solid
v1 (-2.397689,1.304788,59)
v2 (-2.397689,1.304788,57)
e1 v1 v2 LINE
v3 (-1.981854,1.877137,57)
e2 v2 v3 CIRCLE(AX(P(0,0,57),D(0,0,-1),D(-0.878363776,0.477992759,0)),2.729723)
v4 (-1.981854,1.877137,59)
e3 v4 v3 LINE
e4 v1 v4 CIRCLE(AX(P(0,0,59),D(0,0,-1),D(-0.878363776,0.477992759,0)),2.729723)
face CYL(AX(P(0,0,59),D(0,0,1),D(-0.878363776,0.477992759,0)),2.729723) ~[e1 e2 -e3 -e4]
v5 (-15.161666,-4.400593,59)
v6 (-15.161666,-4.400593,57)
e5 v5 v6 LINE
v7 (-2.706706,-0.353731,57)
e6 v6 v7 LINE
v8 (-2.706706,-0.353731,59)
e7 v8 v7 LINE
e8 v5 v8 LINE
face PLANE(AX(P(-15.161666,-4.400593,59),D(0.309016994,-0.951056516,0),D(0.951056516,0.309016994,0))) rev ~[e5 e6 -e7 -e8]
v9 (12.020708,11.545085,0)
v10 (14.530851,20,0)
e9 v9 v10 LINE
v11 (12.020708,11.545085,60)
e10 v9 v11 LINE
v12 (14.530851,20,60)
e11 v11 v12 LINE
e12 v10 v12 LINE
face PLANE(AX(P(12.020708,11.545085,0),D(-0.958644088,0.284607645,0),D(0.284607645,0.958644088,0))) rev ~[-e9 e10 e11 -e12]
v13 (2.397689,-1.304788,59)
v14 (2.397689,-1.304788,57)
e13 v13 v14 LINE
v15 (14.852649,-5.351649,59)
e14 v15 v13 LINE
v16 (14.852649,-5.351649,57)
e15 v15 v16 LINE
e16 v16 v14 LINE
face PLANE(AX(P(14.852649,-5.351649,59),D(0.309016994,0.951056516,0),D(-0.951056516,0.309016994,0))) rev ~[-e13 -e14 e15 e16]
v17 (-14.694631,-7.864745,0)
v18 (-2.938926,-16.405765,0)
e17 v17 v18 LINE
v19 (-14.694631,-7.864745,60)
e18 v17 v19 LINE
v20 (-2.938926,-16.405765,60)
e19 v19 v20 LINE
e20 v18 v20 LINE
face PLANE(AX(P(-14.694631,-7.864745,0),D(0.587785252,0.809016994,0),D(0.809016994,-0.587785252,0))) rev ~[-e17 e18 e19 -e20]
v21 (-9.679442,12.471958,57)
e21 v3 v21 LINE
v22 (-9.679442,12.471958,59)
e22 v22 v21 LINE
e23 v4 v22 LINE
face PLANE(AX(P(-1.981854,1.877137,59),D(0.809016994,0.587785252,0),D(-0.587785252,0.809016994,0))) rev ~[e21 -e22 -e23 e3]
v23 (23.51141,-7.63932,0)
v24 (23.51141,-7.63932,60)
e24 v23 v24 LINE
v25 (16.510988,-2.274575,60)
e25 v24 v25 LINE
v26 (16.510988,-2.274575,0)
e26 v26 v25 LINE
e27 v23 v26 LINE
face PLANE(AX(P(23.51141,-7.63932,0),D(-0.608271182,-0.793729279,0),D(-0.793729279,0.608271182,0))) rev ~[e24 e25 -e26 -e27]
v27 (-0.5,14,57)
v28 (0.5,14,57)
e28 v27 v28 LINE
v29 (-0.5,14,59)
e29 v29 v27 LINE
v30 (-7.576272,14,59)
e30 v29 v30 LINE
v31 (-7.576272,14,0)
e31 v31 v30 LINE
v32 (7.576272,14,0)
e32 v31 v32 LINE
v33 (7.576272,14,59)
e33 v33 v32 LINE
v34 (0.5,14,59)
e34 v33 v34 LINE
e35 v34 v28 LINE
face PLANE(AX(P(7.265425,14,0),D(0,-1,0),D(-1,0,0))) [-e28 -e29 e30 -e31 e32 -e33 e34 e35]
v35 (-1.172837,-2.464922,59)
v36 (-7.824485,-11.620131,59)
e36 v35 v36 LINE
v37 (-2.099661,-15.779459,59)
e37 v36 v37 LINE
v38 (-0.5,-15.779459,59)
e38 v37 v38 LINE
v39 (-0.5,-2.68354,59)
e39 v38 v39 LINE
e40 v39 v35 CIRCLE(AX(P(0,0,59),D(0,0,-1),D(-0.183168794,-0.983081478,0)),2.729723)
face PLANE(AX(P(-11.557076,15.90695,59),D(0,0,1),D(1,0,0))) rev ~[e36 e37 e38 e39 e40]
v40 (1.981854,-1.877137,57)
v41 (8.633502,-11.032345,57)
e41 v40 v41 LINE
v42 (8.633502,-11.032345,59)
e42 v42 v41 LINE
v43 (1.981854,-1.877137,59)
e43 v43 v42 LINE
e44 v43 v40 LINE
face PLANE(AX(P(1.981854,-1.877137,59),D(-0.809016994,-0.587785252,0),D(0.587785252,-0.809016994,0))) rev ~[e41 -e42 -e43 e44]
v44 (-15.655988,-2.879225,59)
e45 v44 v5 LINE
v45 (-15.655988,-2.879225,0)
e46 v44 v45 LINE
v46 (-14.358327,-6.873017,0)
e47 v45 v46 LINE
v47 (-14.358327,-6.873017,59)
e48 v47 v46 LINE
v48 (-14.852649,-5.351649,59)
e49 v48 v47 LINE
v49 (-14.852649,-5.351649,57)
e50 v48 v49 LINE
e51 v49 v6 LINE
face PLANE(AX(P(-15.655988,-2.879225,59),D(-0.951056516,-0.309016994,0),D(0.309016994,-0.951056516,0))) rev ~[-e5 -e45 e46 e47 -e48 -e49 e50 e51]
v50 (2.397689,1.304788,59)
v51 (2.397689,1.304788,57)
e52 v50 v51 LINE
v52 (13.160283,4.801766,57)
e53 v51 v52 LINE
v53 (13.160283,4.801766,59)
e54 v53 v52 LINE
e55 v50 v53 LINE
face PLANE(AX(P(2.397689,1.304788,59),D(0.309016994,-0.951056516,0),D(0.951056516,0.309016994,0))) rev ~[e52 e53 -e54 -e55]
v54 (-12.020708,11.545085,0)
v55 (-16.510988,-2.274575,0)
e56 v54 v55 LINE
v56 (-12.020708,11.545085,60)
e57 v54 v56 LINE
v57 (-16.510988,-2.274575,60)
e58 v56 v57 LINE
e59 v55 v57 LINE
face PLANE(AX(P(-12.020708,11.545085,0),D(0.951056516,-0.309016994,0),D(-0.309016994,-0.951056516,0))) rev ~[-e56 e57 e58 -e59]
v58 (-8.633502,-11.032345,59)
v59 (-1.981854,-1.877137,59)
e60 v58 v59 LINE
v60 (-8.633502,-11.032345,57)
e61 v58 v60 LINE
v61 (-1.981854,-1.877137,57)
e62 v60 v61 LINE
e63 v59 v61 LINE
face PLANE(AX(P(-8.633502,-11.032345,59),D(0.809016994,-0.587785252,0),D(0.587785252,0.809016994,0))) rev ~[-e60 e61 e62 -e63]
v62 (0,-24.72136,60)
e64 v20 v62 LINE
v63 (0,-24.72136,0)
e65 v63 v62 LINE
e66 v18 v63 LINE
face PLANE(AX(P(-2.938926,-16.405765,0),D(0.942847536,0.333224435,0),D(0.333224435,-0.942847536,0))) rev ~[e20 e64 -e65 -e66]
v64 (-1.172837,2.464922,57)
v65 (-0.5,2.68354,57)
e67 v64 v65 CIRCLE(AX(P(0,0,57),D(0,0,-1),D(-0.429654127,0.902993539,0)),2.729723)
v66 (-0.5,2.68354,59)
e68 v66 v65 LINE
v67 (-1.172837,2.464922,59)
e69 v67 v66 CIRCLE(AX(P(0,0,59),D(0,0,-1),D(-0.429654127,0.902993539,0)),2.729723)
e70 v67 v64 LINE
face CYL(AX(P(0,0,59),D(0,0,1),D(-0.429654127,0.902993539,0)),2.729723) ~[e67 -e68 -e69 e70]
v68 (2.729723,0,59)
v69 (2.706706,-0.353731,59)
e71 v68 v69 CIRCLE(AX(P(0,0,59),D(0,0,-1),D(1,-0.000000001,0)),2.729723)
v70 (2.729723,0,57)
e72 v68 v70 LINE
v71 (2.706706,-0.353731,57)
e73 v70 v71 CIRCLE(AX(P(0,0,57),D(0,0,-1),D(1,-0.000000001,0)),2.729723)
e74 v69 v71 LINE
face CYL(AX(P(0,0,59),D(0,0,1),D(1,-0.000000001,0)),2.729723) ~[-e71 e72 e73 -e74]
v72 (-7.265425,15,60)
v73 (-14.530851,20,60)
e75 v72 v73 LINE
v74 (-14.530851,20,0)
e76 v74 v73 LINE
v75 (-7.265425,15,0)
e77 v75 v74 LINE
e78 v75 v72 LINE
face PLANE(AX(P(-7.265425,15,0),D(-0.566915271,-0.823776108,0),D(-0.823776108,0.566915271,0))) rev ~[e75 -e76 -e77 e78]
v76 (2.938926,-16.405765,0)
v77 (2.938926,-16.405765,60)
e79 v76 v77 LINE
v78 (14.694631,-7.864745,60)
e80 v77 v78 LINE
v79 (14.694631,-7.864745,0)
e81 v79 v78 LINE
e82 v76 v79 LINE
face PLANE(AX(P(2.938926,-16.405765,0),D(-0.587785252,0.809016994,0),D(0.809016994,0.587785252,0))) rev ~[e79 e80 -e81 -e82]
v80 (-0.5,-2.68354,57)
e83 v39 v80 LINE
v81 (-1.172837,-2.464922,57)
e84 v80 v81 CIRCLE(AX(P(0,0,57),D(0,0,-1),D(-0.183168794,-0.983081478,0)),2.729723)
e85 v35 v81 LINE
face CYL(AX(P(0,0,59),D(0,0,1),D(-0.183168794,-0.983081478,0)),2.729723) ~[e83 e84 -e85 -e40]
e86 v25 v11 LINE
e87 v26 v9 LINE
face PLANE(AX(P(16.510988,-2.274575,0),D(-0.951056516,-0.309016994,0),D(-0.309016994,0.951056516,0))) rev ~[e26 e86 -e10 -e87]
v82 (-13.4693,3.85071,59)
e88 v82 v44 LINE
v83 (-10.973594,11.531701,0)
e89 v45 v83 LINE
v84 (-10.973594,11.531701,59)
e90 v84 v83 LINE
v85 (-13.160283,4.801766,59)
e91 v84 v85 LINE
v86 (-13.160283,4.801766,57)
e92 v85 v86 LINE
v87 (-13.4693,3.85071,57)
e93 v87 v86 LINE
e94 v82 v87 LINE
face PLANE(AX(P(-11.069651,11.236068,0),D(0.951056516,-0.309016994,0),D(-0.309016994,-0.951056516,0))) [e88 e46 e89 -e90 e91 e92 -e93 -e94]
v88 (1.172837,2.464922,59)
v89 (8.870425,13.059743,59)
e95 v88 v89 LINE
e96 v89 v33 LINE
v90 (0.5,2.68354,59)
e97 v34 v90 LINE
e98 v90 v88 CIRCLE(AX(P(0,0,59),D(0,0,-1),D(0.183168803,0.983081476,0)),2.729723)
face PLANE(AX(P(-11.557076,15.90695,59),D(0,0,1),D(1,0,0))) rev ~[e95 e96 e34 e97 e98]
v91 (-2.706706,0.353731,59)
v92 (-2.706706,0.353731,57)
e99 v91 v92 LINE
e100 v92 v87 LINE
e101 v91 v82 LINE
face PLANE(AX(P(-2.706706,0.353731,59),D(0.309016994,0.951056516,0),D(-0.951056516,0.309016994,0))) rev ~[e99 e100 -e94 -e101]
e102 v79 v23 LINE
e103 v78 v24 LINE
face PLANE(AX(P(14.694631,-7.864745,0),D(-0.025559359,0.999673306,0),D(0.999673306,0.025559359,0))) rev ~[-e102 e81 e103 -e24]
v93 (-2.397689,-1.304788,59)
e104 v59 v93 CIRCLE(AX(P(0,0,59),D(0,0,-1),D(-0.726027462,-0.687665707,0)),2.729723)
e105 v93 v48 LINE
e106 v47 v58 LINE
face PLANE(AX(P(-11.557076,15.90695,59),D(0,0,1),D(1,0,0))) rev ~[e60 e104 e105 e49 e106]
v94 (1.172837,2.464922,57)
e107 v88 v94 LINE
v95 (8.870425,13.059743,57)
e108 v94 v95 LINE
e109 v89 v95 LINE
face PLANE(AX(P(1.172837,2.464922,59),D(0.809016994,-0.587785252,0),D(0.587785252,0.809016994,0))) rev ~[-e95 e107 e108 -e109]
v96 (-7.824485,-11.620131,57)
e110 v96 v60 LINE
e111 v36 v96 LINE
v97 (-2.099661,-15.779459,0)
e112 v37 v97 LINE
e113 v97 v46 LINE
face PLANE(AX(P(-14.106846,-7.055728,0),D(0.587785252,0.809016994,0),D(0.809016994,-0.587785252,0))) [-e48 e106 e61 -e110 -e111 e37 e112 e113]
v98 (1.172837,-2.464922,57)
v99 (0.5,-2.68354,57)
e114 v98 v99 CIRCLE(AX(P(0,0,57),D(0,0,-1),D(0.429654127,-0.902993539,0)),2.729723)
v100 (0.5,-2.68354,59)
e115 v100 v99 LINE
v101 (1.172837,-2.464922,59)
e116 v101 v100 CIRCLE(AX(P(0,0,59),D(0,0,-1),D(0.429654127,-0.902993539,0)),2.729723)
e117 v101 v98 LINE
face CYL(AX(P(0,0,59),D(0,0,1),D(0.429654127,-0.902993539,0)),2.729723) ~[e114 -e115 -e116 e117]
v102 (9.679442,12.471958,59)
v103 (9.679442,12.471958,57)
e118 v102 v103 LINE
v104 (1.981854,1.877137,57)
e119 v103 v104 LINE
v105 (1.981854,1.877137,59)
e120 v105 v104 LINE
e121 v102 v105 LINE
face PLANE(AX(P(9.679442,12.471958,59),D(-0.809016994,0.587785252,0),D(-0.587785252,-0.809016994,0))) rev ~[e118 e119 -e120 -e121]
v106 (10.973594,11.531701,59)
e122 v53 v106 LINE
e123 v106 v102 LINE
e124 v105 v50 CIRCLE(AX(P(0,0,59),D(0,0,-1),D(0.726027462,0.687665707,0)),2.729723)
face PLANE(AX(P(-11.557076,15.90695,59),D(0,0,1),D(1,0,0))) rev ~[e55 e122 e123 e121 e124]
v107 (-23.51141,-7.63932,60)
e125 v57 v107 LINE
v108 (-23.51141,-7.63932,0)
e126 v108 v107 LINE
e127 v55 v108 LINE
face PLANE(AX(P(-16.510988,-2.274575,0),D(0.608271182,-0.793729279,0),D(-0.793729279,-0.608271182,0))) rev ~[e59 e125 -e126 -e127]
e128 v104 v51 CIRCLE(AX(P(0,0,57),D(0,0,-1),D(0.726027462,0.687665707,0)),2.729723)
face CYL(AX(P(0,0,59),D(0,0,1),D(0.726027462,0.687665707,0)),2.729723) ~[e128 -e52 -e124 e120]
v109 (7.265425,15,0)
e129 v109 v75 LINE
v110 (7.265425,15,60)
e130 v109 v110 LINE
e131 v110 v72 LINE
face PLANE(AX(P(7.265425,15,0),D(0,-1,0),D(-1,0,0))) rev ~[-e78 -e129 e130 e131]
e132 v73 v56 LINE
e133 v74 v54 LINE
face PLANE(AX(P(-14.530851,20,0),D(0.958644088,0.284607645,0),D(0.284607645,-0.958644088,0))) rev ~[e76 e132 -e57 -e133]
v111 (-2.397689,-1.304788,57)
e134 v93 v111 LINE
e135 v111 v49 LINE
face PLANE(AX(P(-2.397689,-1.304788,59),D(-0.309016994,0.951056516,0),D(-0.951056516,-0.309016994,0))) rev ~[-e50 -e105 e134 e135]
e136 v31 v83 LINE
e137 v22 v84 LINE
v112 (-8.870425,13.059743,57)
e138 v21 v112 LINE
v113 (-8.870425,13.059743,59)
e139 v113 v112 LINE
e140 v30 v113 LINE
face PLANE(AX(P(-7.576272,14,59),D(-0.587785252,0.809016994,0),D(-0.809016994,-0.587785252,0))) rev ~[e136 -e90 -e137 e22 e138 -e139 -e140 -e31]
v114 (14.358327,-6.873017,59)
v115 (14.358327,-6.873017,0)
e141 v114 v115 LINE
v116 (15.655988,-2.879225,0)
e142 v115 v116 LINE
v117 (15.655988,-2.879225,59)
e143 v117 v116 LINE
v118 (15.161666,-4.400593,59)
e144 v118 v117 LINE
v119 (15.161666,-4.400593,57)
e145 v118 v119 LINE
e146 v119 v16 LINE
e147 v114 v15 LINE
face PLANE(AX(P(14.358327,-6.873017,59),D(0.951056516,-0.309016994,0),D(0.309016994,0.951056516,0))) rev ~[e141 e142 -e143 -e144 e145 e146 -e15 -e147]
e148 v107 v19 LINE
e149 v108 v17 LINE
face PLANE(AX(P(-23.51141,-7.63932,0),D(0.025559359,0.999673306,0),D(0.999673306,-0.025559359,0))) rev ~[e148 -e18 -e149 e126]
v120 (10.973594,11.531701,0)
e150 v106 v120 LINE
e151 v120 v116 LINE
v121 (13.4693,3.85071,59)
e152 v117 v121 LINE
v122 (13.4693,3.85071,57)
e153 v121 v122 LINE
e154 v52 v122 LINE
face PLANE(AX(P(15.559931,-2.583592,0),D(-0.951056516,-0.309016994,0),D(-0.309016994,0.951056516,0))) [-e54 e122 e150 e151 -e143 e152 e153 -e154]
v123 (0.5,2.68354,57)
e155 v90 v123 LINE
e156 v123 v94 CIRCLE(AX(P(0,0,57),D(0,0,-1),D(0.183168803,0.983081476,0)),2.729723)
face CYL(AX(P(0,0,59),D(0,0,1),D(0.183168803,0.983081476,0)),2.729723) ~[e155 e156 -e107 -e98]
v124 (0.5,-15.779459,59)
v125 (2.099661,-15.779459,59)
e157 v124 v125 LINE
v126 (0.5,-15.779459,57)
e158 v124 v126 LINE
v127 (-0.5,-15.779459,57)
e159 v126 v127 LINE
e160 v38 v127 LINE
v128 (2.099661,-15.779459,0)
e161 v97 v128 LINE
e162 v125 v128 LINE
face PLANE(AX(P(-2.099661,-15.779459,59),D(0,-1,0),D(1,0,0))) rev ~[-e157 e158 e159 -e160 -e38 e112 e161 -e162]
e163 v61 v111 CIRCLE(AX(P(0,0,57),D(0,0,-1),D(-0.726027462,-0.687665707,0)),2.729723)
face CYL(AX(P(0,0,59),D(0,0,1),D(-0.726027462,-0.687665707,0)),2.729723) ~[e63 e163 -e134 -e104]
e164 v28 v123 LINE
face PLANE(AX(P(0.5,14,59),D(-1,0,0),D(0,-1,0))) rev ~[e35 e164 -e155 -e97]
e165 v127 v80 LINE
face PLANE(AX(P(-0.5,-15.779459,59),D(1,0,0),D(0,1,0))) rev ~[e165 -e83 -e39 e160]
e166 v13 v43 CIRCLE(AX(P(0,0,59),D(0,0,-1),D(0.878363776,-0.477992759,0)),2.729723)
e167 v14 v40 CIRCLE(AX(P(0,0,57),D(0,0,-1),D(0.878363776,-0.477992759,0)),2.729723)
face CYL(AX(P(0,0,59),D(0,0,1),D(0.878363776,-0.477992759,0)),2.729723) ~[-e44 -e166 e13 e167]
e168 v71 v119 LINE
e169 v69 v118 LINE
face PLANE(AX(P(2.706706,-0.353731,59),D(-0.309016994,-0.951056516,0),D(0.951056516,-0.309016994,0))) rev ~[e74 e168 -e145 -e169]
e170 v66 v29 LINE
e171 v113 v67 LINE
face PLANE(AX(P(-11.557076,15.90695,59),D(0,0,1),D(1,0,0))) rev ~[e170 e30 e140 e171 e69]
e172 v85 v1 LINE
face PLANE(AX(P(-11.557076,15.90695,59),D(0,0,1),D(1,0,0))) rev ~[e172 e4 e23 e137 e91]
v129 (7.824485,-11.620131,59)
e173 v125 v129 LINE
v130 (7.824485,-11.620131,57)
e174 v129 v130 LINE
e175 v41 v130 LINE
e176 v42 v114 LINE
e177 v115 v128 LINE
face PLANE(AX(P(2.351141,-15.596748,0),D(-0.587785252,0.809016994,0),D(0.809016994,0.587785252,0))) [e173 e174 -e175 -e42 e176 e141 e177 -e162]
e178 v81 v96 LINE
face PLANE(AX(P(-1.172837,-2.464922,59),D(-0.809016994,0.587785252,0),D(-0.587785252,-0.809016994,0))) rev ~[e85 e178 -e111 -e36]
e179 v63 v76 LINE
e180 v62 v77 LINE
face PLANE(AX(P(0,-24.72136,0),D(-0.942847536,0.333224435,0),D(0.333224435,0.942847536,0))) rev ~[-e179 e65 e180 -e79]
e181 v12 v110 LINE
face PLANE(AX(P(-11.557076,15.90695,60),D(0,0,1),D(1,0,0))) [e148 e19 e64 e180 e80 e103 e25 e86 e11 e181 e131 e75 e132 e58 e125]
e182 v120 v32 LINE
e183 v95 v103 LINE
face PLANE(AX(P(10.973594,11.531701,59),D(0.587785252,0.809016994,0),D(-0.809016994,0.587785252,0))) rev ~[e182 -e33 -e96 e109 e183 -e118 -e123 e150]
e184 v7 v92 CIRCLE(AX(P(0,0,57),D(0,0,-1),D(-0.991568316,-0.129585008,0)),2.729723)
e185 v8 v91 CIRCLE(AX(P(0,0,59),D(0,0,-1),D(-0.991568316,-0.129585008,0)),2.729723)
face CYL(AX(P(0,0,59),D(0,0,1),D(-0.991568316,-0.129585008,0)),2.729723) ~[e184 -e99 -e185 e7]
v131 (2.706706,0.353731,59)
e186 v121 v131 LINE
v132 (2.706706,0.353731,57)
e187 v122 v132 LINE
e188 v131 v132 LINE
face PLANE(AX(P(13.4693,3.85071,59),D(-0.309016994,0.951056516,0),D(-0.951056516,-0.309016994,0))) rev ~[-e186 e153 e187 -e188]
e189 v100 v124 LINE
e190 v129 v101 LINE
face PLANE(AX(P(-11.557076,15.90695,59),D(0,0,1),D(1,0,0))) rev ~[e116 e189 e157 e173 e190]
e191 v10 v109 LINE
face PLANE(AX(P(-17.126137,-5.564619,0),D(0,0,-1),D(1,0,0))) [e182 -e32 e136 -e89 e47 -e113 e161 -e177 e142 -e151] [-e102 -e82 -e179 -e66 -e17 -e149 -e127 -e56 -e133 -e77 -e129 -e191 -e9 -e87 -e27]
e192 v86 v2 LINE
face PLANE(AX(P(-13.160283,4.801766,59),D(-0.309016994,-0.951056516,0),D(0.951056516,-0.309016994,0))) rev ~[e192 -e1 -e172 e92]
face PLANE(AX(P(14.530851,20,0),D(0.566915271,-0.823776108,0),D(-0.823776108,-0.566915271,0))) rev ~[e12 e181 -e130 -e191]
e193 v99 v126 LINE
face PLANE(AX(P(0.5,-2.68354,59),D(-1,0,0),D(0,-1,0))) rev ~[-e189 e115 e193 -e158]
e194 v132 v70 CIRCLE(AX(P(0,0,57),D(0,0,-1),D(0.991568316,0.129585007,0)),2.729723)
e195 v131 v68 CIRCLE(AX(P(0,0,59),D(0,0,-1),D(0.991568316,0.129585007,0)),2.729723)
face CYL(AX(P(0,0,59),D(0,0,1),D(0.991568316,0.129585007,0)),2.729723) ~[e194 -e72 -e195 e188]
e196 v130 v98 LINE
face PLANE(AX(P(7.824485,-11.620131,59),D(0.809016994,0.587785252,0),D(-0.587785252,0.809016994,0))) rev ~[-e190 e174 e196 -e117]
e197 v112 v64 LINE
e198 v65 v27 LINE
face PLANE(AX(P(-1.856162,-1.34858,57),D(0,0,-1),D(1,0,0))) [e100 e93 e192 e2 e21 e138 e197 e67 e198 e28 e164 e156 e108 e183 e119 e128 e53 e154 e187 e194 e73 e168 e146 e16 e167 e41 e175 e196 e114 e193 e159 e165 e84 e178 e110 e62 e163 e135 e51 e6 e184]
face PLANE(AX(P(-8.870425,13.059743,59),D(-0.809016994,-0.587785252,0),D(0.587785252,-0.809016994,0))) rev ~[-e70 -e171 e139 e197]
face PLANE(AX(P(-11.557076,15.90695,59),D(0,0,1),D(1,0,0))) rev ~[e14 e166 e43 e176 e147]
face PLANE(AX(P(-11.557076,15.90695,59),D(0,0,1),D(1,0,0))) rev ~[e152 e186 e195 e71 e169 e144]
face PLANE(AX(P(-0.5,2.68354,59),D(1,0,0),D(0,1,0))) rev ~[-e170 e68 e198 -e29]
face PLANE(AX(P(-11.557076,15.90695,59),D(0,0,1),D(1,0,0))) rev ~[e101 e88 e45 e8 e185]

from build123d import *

# Parameters (mm, degrees)
F1_DEPTH = 60
F2_T     = -1
F4_DEPTH = 59
F6_DEPTH = 2


with BuildPart() as f1:
    # F0 (on Top) → F1 (new body)
    with BuildSketch(Plane.XY):
        Polygon((-7.2654252801, 15), (-14.5308505601, 20), (-12.0207078615, 11.5450849719), (-10.8981379201, 15), align=None)
        Polygon((-10.8981379201, 15), (-12.0207078615, 11.5450849719), (-9.510565163, 3.0901699437), (-16.5109876273, -2.2745751406), (-17.6335575688, -5.7294901688), (-14.6946313073, -7.8647450844), (-5.8778525229, -8.0901699437), (-2.9389262615, -16.4057647469), (0, -18.5410196625), (2.9389262615, -16.4057647469), (5.8778525229, -8.0901699437), (14.6946313073, -7.8647450844), (17.6335575688, -5.7294901688), (16.5109876273, -2.2745751406), (9.510565163, 3.0901699437), (12.0207078615, 11.5450849719), (10.8981379201, 15), (7.2654252801, 15), (0, 10), (-7.2654252801, 15), align=None)
        Polygon((-9.510565163, 3.0901699437), (-12.0207078615, 11.5450849719), (-16.5109876273, -2.2745751406), align=None)
        Polygon((7.2654252801, 15), (-7.2654252801, 15), (0, 10), align=None)
        Polygon((-17.6335575688, -5.7294901688), (-16.5109876273, -2.2745751406), (-23.5114100917, -7.639320225), (-14.6946313073, -7.8647450844), align=None)
        Polygon((14.5308505601, 20), (7.2654252801, 15), (10.8981379201, 15), (12.0207078615, 11.5450849719), align=None)
        Polygon((-5.8778525229, -8.0901699437), (-14.6946313073, -7.8647450844), (-2.9389262615, -16.4057647469), align=None)
        Polygon((16.5109876273, -2.2745751406), (12.0207078615, 11.5450849719), (9.510565163, 3.0901699437), align=None)
        Polygon((0, -18.5410196625), (-2.9389262615, -16.4057647469), (0, -24.72135955), (2.9389262615, -16.4057647469), align=None)
        Polygon((23.5114100917, -7.639320225), (16.5109876273, -2.2745751406), (17.6335575688, -5.7294901688), (14.6946313073, -7.8647450844), align=None)
        Polygon((5.8778525229, -8.0901699437), (2.9389262615, -16.4057647469), (14.6946313073, -7.8647450844), align=None)
    extrude(amount=F1_DEPTH)

    # F2
    f2_openings = [f1.faces().sort_by_distance(p)[0] for p in [
        (0, 0, 0),
    ]]
    offset(amount=F2_T, openings=f2_openings, kind=Kind.INTERSECTION)

    # F3 (on face) → F4 (join, through all)
    with BuildSketch(Plane(origin=(0, 0, 59), x_dir=(1, 0, 0), z_dir=(0, 0, -1))):
        Polygon((-15.6559881063, 2.8792251681), (-14.3583265336, 6.8730168274), (-20.6573081254, 6.7119662811), align=None)
        Polygon((0, 21.7203791484), (-2.0996605306, 15.7794590151), (2.0996605306, 15.7794590151), align=None)
        Polygon((20.6573081254, 6.7119662811), (14.3583265336, 6.8730168274), (15.6559881063, 2.8792251681), align=None)
        Polygon((12.7669185376, -17.5721558553), (10.9735943499, -11.5317010106), (7.5762722465, -14), align=None)
        Polygon((-7.5762722465, -14), (-10.9735943499, -11.5317010106), (-12.7669185376, -17.5721558553), align=None)
    extrude(amount=F4_DEPTH)

    # F5 (on face) → F6 (join)
    with BuildSketch(Plane(origin=(0, 0, 59), x_dir=(1, 0, 0), z_dir=(0, 0, -1))):
        with BuildLine():
            ThreePointArc((-1.9818535798, 1.8771366278), (-2.208391982, 1.6044906934), (-2.3976894584, 1.3047876426))
            Line((-2.3976894584, 1.3047876426), (-1.3090169944, 0.9510565163))
            Line((-1.3090169944, 0.9510565163), (-1.9818535798, 1.8771366278))
        make_face()
        with BuildLine():
            Line((-1.3090169944, 0.9510565163), (-2.3976894584, 1.3047876426))
            ThreePointArc((-2.3976894584, 1.3047876426), (-2.5961204766, 0.8435306766), (-2.7067064528, 0.3537311263))
            Line((-2.7067064528, 0.3537311263), (-1.6180339887, 0))
            Line((-1.6180339887, 0), (-2.7067064528, -0.3537311263))
            ThreePointArc((-2.7067064528, -0.3537311263), (-2.5961204766, -0.8435306766), (-2.3976894584, -1.3047876426))
            Line((-2.3976894584, -1.3047876426), (-1.3090169944, -0.9510565163))
            Line((-1.3090169944, -0.9510565163), (-1.9818535798, -1.8771366278))
            ThreePointArc((-1.9818535798, -1.8771366278), (-1.6044906934, -2.208391982), (-1.1728365854, -2.4649218801))
            Line((-1.1728365854, -2.4649218801), (-0.5, -1.5388417686))
            Line((-0.5, -1.5388417686), (-0.5, -2.6835397391))
            ThreePointArc((-0.5, -2.6835397391), (1.21e-08, -2.7297226107), (0.5000000237, -2.6835397347))
            Line((0.5000000237, -2.6835397347), (0.5000000237, -1.5388418013))
            Line((0.5000000237, -1.5388418013), (1.1728365854, -2.4649218801))
            ThreePointArc((1.1728365854, -2.4649218801), (1.6044906934, -2.208391982), (1.9818535798, -1.8771366278))
            Line((1.9818535798, -1.8771366278), (1.3090169944, -0.9510565163))
            Line((1.3090169944, -0.9510565163), (2.3976894584, -1.3047876426))
            ThreePointArc((2.3976894584, -1.3047876426), (2.5961204766, -0.8435306766), (2.7067064528, -0.3537311263))
            Line((2.7067064528, -0.3537311263), (1.6180339887, 0))
            Line((1.6180339887, 0), (2.7067064528, 0.3537311263))
            ThreePointArc((2.7067064528, 0.3537311263), (2.5961204766, 0.8435306766), (2.3976894584, 1.3047876426))
            Line((2.3976894584, 1.3047876426), (1.3090169944, 0.9510565163))
            Line((1.3090169944, 0.9510565163), (1.9818535798, 1.8771366278))
            ThreePointArc((1.9818535798, 1.8771366278), (1.6044906934, 2.208391982), (1.1728365854, 2.4649218801))
            Line((1.1728365854, 2.4649218801), (0.5, 1.5388417686))
            Line((0.5, 1.5388417686), (0.5, 2.6835397391))
            ThreePointArc((0.5, 2.6835397391), (0, 2.7297226107), (-0.5, 2.6835397391))
            Line((-0.5, 2.6835397391), (-0.5, 1.5388417686))
            Line((-0.5, 1.5388417686), (-1.1728365854, 2.4649218801))
            ThreePointArc((-1.1728365854, 2.4649218801), (-1.6044906934, 2.208391982), (-1.9818535798, 1.8771366278))
            Line((-1.9818535798, 1.8771366278), (-1.3090169944, 0.9510565163))
        make_face()
        with BuildLine():
            Line((-1.6180339887, 0), (-2.7067064528, 0.3537311263))
            ThreePointArc((-2.7067064528, 0.3537311263), (-2.7297226107, 0), (-2.7067064528, -0.3537311263))
            Line((-2.7067064528, -0.3537311263), (-1.6180339887, 0))
        make_face()
        with BuildLine():
            ThreePointArc((-0.5, 2.6835397391), (-0.8435306766, 2.5961204766), (-1.1728365854, 2.4649218801))
            Line((-1.1728365854, 2.4649218801), (-0.5, 1.5388417686))
            Line((-0.5, 1.5388417686), (-0.5, 2.6835397391))
        make_face()
        with BuildLine():
            Line((-1.3090169944, -0.9510565163), (-2.3976894584, -1.3047876426))
            ThreePointArc((-2.3976894584, -1.3047876426), (-2.208391982, -1.6044906934), (-1.9818535798, -1.8771366278))
            Line((-1.9818535798, -1.8771366278), (-1.3090169944, -0.9510565163))
        make_face()
        with BuildLine():
            ThreePointArc((1.1728365854, 2.4649218801), (0.8435306766, 2.5961204766), (0.5, 2.6835397391))
            Line((0.5, 2.6835397391), (0.5, 1.5388417686))
            Line((0.5, 1.5388417686), (1.1728365854, 2.4649218801))
        make_face()
        with BuildLine():
            Line((-0.5, -1.5388417686), (-1.1728365854, -2.4649218801))
            ThreePointArc((-1.1728365854, -2.4649218801), (-0.8435306766, -2.5961204766), (-0.5, -2.6835397391))
            Line((-0.5, -2.6835397391), (-0.5, -1.5388417686))
        make_face()
        with BuildLine():
            ThreePointArc((2.3976894584, 1.3047876426), (2.208391982, 1.6044906934), (1.9818535798, 1.8771366278))
            Line((1.9818535798, 1.8771366278), (1.3090169944, 0.9510565163))
            Line((1.3090169944, 0.9510565163), (2.3976894584, 1.3047876426))
        make_face()
        with BuildLine():
            Line((0.5000000237, -1.5388418013), (0.5000000237, -2.6835397347))
            ThreePointArc((0.5000000237, -2.6835397347), (0.8435306881, -2.5961204728), (1.1728365854, -2.4649218801))
            Line((1.1728365854, -2.4649218801), (0.5000000237, -1.5388418013))
        make_face()
        with BuildLine():
            ThreePointArc((2.7297226107, 0), (2.7239624938, 0.1772395647), (2.7067064528, 0.3537311263))
            Line((2.7067064528, 0.3537311263), (1.6180339887, 0))
            Line((1.6180339887, 0), (2.7067064528, -0.3537311263))
            ThreePointArc((2.7067064528, -0.3537311263), (2.7239624938, -0.1772395647), (2.7297226107, 0))
        make_face()
        with BuildLine():
            Line((1.3090169944, -0.9510565163), (1.9818535798, -1.8771366278))
            ThreePointArc((1.9818535798, -1.8771366278), (2.208391982, -1.6044906934), (2.3976894584, -1.3047876426))
            Line((2.3976894584, -1.3047876426), (1.3090169944, -0.9510565163))
        make_face()
        with BuildLine():
            Line((-2.3976894584, 1.3047876426), (-14.8526488228, 5.3516492559))
            Line((-14.8526488228, 5.3516492559), (-15.1616658171, 4.4005927396))
            Line((-15.1616658171, 4.4005927396), (-2.7067064528, 0.3537311263))
            ThreePointArc((-2.7067064528, 0.3537311263), (-2.5961204766, 0.8435306766), (-2.3976894584, 1.3047876426))
        make_face()
        with BuildLine():
            Line((-8.6335020293, 11.0323452951), (-1.9818535798, 1.8771366278))
            ThreePointArc((-1.9818535798, 1.8771366278), (-1.6044906934, 2.208391982), (-1.1728365854, 2.4649218801))
            Line((-1.1728365854, 2.4649218801), (-7.8244850349, 11.6201305474))
            Line((-7.8244850349, 11.6201305474), (-8.6335020293, 11.0323452951))
        make_face()
        with BuildLine():
            Line((-0.5, 15.7794590151), (-0.5, 2.6835397391))
            ThreePointArc((-0.5, 2.6835397391), (0, 2.7297226107), (0.5, 2.6835397391))
            Line((0.5, 2.6835397391), (0.5, 15.7794590151))
            Line((0.5, 15.7794590151), (-0.5, 15.7794590151))
        make_face()
        with BuildLine():
            Line((7.8244850349, 11.6201305474), (1.1728365854, 2.4649218801))
            ThreePointArc((1.1728365854, 2.4649218801), (1.6044906934, 2.208391982), (1.9818535798, 1.8771366278))
            Line((1.9818535798, 1.8771366278), (8.6335020293, 11.0323452951))
            Line((8.6335020293, 11.0323452951), (7.8244850349, 11.6201305474))
        make_face()
        with BuildLine():
            Line((14.8526488228, 5.3516492559), (2.3976894584, 1.3047876426))
            ThreePointArc((2.3976894584, 1.3047876426), (2.5961204766, 0.8435306766), (2.7067064528, 0.3537311263))
            Line((2.7067064528, 0.3537311263), (15.1616658171, 4.4005927396))
            Line((15.1616658171, 4.4005927396), (14.8526488228, 5.3516492559))
        make_face()
        with BuildLine():
            Line((13.4692997253, -3.8507096631), (2.7067064528, -0.3537311263))
            ThreePointArc((2.7067064528, -0.3537311263), (2.5961204766, -0.8435306766), (2.3976894584, -1.3047876426))
            Line((2.3976894584, -1.3047876426), (13.1602827309, -4.8017661794))
            Line((13.1602827309, -4.8017661794), (13.4692997253, -3.8507096631))
        make_face()
        with BuildLine():
            ThreePointArc((1.9818535798, -1.8771366278), (1.6044906934, -2.208391982), (1.1728365854, -2.4649218801))
            Line((1.1728365854, -2.4649218801), (8.8704248011, -13.0597431314))
            Line((8.8704248011, -13.0597431314), (9.6794417954, -12.4719578791))
            Line((9.6794417954, -12.4719578791), (1.9818535798, -1.8771366278))
        make_face()
        with BuildLine():
            ThreePointArc((0.5000000237, -2.6835397347), (1.21e-08, -2.7297226107), (-0.5, -2.6835397391))
            Line((-0.5, -2.6835397391), (-0.5, -14))
            Line((-0.5, -14), (0.5000000237, -14))
            Line((0.5000000237, -14), (0.5000000237, -2.6835397347))
        make_face()
        with BuildLine():
            ThreePointArc((-1.1728365854, -2.4649218801), (-1.6044906934, -2.208391982), (-1.9818535798, -1.8771366278))
            Line((-1.9818535798, -1.8771366278), (-9.6794417954, -12.4719578791))
            Line((-9.6794417954, -12.4719578791), (-8.8704248011, -13.0597431314))
            Line((-8.8704248011, -13.0597431314), (-1.1728365854, -2.4649218801))
        make_face()
        with BuildLine():
            ThreePointArc((-2.3976894584, -1.3047876426), (-2.5961204766, -0.8435306766), (-2.7067064528, -0.3537311263))
            Line((-2.7067064528, -0.3537311263), (-13.4692997253, -3.8507096631))
            Line((-13.4692997253, -3.8507096631), (-13.1602827309, -4.8017661794))
            Line((-13.1602827309, -4.8017661794), (-2.3976894584, -1.3047876426))
        make_face()
    extrude(amount=F6_DEPTH)


solid = f1.part
